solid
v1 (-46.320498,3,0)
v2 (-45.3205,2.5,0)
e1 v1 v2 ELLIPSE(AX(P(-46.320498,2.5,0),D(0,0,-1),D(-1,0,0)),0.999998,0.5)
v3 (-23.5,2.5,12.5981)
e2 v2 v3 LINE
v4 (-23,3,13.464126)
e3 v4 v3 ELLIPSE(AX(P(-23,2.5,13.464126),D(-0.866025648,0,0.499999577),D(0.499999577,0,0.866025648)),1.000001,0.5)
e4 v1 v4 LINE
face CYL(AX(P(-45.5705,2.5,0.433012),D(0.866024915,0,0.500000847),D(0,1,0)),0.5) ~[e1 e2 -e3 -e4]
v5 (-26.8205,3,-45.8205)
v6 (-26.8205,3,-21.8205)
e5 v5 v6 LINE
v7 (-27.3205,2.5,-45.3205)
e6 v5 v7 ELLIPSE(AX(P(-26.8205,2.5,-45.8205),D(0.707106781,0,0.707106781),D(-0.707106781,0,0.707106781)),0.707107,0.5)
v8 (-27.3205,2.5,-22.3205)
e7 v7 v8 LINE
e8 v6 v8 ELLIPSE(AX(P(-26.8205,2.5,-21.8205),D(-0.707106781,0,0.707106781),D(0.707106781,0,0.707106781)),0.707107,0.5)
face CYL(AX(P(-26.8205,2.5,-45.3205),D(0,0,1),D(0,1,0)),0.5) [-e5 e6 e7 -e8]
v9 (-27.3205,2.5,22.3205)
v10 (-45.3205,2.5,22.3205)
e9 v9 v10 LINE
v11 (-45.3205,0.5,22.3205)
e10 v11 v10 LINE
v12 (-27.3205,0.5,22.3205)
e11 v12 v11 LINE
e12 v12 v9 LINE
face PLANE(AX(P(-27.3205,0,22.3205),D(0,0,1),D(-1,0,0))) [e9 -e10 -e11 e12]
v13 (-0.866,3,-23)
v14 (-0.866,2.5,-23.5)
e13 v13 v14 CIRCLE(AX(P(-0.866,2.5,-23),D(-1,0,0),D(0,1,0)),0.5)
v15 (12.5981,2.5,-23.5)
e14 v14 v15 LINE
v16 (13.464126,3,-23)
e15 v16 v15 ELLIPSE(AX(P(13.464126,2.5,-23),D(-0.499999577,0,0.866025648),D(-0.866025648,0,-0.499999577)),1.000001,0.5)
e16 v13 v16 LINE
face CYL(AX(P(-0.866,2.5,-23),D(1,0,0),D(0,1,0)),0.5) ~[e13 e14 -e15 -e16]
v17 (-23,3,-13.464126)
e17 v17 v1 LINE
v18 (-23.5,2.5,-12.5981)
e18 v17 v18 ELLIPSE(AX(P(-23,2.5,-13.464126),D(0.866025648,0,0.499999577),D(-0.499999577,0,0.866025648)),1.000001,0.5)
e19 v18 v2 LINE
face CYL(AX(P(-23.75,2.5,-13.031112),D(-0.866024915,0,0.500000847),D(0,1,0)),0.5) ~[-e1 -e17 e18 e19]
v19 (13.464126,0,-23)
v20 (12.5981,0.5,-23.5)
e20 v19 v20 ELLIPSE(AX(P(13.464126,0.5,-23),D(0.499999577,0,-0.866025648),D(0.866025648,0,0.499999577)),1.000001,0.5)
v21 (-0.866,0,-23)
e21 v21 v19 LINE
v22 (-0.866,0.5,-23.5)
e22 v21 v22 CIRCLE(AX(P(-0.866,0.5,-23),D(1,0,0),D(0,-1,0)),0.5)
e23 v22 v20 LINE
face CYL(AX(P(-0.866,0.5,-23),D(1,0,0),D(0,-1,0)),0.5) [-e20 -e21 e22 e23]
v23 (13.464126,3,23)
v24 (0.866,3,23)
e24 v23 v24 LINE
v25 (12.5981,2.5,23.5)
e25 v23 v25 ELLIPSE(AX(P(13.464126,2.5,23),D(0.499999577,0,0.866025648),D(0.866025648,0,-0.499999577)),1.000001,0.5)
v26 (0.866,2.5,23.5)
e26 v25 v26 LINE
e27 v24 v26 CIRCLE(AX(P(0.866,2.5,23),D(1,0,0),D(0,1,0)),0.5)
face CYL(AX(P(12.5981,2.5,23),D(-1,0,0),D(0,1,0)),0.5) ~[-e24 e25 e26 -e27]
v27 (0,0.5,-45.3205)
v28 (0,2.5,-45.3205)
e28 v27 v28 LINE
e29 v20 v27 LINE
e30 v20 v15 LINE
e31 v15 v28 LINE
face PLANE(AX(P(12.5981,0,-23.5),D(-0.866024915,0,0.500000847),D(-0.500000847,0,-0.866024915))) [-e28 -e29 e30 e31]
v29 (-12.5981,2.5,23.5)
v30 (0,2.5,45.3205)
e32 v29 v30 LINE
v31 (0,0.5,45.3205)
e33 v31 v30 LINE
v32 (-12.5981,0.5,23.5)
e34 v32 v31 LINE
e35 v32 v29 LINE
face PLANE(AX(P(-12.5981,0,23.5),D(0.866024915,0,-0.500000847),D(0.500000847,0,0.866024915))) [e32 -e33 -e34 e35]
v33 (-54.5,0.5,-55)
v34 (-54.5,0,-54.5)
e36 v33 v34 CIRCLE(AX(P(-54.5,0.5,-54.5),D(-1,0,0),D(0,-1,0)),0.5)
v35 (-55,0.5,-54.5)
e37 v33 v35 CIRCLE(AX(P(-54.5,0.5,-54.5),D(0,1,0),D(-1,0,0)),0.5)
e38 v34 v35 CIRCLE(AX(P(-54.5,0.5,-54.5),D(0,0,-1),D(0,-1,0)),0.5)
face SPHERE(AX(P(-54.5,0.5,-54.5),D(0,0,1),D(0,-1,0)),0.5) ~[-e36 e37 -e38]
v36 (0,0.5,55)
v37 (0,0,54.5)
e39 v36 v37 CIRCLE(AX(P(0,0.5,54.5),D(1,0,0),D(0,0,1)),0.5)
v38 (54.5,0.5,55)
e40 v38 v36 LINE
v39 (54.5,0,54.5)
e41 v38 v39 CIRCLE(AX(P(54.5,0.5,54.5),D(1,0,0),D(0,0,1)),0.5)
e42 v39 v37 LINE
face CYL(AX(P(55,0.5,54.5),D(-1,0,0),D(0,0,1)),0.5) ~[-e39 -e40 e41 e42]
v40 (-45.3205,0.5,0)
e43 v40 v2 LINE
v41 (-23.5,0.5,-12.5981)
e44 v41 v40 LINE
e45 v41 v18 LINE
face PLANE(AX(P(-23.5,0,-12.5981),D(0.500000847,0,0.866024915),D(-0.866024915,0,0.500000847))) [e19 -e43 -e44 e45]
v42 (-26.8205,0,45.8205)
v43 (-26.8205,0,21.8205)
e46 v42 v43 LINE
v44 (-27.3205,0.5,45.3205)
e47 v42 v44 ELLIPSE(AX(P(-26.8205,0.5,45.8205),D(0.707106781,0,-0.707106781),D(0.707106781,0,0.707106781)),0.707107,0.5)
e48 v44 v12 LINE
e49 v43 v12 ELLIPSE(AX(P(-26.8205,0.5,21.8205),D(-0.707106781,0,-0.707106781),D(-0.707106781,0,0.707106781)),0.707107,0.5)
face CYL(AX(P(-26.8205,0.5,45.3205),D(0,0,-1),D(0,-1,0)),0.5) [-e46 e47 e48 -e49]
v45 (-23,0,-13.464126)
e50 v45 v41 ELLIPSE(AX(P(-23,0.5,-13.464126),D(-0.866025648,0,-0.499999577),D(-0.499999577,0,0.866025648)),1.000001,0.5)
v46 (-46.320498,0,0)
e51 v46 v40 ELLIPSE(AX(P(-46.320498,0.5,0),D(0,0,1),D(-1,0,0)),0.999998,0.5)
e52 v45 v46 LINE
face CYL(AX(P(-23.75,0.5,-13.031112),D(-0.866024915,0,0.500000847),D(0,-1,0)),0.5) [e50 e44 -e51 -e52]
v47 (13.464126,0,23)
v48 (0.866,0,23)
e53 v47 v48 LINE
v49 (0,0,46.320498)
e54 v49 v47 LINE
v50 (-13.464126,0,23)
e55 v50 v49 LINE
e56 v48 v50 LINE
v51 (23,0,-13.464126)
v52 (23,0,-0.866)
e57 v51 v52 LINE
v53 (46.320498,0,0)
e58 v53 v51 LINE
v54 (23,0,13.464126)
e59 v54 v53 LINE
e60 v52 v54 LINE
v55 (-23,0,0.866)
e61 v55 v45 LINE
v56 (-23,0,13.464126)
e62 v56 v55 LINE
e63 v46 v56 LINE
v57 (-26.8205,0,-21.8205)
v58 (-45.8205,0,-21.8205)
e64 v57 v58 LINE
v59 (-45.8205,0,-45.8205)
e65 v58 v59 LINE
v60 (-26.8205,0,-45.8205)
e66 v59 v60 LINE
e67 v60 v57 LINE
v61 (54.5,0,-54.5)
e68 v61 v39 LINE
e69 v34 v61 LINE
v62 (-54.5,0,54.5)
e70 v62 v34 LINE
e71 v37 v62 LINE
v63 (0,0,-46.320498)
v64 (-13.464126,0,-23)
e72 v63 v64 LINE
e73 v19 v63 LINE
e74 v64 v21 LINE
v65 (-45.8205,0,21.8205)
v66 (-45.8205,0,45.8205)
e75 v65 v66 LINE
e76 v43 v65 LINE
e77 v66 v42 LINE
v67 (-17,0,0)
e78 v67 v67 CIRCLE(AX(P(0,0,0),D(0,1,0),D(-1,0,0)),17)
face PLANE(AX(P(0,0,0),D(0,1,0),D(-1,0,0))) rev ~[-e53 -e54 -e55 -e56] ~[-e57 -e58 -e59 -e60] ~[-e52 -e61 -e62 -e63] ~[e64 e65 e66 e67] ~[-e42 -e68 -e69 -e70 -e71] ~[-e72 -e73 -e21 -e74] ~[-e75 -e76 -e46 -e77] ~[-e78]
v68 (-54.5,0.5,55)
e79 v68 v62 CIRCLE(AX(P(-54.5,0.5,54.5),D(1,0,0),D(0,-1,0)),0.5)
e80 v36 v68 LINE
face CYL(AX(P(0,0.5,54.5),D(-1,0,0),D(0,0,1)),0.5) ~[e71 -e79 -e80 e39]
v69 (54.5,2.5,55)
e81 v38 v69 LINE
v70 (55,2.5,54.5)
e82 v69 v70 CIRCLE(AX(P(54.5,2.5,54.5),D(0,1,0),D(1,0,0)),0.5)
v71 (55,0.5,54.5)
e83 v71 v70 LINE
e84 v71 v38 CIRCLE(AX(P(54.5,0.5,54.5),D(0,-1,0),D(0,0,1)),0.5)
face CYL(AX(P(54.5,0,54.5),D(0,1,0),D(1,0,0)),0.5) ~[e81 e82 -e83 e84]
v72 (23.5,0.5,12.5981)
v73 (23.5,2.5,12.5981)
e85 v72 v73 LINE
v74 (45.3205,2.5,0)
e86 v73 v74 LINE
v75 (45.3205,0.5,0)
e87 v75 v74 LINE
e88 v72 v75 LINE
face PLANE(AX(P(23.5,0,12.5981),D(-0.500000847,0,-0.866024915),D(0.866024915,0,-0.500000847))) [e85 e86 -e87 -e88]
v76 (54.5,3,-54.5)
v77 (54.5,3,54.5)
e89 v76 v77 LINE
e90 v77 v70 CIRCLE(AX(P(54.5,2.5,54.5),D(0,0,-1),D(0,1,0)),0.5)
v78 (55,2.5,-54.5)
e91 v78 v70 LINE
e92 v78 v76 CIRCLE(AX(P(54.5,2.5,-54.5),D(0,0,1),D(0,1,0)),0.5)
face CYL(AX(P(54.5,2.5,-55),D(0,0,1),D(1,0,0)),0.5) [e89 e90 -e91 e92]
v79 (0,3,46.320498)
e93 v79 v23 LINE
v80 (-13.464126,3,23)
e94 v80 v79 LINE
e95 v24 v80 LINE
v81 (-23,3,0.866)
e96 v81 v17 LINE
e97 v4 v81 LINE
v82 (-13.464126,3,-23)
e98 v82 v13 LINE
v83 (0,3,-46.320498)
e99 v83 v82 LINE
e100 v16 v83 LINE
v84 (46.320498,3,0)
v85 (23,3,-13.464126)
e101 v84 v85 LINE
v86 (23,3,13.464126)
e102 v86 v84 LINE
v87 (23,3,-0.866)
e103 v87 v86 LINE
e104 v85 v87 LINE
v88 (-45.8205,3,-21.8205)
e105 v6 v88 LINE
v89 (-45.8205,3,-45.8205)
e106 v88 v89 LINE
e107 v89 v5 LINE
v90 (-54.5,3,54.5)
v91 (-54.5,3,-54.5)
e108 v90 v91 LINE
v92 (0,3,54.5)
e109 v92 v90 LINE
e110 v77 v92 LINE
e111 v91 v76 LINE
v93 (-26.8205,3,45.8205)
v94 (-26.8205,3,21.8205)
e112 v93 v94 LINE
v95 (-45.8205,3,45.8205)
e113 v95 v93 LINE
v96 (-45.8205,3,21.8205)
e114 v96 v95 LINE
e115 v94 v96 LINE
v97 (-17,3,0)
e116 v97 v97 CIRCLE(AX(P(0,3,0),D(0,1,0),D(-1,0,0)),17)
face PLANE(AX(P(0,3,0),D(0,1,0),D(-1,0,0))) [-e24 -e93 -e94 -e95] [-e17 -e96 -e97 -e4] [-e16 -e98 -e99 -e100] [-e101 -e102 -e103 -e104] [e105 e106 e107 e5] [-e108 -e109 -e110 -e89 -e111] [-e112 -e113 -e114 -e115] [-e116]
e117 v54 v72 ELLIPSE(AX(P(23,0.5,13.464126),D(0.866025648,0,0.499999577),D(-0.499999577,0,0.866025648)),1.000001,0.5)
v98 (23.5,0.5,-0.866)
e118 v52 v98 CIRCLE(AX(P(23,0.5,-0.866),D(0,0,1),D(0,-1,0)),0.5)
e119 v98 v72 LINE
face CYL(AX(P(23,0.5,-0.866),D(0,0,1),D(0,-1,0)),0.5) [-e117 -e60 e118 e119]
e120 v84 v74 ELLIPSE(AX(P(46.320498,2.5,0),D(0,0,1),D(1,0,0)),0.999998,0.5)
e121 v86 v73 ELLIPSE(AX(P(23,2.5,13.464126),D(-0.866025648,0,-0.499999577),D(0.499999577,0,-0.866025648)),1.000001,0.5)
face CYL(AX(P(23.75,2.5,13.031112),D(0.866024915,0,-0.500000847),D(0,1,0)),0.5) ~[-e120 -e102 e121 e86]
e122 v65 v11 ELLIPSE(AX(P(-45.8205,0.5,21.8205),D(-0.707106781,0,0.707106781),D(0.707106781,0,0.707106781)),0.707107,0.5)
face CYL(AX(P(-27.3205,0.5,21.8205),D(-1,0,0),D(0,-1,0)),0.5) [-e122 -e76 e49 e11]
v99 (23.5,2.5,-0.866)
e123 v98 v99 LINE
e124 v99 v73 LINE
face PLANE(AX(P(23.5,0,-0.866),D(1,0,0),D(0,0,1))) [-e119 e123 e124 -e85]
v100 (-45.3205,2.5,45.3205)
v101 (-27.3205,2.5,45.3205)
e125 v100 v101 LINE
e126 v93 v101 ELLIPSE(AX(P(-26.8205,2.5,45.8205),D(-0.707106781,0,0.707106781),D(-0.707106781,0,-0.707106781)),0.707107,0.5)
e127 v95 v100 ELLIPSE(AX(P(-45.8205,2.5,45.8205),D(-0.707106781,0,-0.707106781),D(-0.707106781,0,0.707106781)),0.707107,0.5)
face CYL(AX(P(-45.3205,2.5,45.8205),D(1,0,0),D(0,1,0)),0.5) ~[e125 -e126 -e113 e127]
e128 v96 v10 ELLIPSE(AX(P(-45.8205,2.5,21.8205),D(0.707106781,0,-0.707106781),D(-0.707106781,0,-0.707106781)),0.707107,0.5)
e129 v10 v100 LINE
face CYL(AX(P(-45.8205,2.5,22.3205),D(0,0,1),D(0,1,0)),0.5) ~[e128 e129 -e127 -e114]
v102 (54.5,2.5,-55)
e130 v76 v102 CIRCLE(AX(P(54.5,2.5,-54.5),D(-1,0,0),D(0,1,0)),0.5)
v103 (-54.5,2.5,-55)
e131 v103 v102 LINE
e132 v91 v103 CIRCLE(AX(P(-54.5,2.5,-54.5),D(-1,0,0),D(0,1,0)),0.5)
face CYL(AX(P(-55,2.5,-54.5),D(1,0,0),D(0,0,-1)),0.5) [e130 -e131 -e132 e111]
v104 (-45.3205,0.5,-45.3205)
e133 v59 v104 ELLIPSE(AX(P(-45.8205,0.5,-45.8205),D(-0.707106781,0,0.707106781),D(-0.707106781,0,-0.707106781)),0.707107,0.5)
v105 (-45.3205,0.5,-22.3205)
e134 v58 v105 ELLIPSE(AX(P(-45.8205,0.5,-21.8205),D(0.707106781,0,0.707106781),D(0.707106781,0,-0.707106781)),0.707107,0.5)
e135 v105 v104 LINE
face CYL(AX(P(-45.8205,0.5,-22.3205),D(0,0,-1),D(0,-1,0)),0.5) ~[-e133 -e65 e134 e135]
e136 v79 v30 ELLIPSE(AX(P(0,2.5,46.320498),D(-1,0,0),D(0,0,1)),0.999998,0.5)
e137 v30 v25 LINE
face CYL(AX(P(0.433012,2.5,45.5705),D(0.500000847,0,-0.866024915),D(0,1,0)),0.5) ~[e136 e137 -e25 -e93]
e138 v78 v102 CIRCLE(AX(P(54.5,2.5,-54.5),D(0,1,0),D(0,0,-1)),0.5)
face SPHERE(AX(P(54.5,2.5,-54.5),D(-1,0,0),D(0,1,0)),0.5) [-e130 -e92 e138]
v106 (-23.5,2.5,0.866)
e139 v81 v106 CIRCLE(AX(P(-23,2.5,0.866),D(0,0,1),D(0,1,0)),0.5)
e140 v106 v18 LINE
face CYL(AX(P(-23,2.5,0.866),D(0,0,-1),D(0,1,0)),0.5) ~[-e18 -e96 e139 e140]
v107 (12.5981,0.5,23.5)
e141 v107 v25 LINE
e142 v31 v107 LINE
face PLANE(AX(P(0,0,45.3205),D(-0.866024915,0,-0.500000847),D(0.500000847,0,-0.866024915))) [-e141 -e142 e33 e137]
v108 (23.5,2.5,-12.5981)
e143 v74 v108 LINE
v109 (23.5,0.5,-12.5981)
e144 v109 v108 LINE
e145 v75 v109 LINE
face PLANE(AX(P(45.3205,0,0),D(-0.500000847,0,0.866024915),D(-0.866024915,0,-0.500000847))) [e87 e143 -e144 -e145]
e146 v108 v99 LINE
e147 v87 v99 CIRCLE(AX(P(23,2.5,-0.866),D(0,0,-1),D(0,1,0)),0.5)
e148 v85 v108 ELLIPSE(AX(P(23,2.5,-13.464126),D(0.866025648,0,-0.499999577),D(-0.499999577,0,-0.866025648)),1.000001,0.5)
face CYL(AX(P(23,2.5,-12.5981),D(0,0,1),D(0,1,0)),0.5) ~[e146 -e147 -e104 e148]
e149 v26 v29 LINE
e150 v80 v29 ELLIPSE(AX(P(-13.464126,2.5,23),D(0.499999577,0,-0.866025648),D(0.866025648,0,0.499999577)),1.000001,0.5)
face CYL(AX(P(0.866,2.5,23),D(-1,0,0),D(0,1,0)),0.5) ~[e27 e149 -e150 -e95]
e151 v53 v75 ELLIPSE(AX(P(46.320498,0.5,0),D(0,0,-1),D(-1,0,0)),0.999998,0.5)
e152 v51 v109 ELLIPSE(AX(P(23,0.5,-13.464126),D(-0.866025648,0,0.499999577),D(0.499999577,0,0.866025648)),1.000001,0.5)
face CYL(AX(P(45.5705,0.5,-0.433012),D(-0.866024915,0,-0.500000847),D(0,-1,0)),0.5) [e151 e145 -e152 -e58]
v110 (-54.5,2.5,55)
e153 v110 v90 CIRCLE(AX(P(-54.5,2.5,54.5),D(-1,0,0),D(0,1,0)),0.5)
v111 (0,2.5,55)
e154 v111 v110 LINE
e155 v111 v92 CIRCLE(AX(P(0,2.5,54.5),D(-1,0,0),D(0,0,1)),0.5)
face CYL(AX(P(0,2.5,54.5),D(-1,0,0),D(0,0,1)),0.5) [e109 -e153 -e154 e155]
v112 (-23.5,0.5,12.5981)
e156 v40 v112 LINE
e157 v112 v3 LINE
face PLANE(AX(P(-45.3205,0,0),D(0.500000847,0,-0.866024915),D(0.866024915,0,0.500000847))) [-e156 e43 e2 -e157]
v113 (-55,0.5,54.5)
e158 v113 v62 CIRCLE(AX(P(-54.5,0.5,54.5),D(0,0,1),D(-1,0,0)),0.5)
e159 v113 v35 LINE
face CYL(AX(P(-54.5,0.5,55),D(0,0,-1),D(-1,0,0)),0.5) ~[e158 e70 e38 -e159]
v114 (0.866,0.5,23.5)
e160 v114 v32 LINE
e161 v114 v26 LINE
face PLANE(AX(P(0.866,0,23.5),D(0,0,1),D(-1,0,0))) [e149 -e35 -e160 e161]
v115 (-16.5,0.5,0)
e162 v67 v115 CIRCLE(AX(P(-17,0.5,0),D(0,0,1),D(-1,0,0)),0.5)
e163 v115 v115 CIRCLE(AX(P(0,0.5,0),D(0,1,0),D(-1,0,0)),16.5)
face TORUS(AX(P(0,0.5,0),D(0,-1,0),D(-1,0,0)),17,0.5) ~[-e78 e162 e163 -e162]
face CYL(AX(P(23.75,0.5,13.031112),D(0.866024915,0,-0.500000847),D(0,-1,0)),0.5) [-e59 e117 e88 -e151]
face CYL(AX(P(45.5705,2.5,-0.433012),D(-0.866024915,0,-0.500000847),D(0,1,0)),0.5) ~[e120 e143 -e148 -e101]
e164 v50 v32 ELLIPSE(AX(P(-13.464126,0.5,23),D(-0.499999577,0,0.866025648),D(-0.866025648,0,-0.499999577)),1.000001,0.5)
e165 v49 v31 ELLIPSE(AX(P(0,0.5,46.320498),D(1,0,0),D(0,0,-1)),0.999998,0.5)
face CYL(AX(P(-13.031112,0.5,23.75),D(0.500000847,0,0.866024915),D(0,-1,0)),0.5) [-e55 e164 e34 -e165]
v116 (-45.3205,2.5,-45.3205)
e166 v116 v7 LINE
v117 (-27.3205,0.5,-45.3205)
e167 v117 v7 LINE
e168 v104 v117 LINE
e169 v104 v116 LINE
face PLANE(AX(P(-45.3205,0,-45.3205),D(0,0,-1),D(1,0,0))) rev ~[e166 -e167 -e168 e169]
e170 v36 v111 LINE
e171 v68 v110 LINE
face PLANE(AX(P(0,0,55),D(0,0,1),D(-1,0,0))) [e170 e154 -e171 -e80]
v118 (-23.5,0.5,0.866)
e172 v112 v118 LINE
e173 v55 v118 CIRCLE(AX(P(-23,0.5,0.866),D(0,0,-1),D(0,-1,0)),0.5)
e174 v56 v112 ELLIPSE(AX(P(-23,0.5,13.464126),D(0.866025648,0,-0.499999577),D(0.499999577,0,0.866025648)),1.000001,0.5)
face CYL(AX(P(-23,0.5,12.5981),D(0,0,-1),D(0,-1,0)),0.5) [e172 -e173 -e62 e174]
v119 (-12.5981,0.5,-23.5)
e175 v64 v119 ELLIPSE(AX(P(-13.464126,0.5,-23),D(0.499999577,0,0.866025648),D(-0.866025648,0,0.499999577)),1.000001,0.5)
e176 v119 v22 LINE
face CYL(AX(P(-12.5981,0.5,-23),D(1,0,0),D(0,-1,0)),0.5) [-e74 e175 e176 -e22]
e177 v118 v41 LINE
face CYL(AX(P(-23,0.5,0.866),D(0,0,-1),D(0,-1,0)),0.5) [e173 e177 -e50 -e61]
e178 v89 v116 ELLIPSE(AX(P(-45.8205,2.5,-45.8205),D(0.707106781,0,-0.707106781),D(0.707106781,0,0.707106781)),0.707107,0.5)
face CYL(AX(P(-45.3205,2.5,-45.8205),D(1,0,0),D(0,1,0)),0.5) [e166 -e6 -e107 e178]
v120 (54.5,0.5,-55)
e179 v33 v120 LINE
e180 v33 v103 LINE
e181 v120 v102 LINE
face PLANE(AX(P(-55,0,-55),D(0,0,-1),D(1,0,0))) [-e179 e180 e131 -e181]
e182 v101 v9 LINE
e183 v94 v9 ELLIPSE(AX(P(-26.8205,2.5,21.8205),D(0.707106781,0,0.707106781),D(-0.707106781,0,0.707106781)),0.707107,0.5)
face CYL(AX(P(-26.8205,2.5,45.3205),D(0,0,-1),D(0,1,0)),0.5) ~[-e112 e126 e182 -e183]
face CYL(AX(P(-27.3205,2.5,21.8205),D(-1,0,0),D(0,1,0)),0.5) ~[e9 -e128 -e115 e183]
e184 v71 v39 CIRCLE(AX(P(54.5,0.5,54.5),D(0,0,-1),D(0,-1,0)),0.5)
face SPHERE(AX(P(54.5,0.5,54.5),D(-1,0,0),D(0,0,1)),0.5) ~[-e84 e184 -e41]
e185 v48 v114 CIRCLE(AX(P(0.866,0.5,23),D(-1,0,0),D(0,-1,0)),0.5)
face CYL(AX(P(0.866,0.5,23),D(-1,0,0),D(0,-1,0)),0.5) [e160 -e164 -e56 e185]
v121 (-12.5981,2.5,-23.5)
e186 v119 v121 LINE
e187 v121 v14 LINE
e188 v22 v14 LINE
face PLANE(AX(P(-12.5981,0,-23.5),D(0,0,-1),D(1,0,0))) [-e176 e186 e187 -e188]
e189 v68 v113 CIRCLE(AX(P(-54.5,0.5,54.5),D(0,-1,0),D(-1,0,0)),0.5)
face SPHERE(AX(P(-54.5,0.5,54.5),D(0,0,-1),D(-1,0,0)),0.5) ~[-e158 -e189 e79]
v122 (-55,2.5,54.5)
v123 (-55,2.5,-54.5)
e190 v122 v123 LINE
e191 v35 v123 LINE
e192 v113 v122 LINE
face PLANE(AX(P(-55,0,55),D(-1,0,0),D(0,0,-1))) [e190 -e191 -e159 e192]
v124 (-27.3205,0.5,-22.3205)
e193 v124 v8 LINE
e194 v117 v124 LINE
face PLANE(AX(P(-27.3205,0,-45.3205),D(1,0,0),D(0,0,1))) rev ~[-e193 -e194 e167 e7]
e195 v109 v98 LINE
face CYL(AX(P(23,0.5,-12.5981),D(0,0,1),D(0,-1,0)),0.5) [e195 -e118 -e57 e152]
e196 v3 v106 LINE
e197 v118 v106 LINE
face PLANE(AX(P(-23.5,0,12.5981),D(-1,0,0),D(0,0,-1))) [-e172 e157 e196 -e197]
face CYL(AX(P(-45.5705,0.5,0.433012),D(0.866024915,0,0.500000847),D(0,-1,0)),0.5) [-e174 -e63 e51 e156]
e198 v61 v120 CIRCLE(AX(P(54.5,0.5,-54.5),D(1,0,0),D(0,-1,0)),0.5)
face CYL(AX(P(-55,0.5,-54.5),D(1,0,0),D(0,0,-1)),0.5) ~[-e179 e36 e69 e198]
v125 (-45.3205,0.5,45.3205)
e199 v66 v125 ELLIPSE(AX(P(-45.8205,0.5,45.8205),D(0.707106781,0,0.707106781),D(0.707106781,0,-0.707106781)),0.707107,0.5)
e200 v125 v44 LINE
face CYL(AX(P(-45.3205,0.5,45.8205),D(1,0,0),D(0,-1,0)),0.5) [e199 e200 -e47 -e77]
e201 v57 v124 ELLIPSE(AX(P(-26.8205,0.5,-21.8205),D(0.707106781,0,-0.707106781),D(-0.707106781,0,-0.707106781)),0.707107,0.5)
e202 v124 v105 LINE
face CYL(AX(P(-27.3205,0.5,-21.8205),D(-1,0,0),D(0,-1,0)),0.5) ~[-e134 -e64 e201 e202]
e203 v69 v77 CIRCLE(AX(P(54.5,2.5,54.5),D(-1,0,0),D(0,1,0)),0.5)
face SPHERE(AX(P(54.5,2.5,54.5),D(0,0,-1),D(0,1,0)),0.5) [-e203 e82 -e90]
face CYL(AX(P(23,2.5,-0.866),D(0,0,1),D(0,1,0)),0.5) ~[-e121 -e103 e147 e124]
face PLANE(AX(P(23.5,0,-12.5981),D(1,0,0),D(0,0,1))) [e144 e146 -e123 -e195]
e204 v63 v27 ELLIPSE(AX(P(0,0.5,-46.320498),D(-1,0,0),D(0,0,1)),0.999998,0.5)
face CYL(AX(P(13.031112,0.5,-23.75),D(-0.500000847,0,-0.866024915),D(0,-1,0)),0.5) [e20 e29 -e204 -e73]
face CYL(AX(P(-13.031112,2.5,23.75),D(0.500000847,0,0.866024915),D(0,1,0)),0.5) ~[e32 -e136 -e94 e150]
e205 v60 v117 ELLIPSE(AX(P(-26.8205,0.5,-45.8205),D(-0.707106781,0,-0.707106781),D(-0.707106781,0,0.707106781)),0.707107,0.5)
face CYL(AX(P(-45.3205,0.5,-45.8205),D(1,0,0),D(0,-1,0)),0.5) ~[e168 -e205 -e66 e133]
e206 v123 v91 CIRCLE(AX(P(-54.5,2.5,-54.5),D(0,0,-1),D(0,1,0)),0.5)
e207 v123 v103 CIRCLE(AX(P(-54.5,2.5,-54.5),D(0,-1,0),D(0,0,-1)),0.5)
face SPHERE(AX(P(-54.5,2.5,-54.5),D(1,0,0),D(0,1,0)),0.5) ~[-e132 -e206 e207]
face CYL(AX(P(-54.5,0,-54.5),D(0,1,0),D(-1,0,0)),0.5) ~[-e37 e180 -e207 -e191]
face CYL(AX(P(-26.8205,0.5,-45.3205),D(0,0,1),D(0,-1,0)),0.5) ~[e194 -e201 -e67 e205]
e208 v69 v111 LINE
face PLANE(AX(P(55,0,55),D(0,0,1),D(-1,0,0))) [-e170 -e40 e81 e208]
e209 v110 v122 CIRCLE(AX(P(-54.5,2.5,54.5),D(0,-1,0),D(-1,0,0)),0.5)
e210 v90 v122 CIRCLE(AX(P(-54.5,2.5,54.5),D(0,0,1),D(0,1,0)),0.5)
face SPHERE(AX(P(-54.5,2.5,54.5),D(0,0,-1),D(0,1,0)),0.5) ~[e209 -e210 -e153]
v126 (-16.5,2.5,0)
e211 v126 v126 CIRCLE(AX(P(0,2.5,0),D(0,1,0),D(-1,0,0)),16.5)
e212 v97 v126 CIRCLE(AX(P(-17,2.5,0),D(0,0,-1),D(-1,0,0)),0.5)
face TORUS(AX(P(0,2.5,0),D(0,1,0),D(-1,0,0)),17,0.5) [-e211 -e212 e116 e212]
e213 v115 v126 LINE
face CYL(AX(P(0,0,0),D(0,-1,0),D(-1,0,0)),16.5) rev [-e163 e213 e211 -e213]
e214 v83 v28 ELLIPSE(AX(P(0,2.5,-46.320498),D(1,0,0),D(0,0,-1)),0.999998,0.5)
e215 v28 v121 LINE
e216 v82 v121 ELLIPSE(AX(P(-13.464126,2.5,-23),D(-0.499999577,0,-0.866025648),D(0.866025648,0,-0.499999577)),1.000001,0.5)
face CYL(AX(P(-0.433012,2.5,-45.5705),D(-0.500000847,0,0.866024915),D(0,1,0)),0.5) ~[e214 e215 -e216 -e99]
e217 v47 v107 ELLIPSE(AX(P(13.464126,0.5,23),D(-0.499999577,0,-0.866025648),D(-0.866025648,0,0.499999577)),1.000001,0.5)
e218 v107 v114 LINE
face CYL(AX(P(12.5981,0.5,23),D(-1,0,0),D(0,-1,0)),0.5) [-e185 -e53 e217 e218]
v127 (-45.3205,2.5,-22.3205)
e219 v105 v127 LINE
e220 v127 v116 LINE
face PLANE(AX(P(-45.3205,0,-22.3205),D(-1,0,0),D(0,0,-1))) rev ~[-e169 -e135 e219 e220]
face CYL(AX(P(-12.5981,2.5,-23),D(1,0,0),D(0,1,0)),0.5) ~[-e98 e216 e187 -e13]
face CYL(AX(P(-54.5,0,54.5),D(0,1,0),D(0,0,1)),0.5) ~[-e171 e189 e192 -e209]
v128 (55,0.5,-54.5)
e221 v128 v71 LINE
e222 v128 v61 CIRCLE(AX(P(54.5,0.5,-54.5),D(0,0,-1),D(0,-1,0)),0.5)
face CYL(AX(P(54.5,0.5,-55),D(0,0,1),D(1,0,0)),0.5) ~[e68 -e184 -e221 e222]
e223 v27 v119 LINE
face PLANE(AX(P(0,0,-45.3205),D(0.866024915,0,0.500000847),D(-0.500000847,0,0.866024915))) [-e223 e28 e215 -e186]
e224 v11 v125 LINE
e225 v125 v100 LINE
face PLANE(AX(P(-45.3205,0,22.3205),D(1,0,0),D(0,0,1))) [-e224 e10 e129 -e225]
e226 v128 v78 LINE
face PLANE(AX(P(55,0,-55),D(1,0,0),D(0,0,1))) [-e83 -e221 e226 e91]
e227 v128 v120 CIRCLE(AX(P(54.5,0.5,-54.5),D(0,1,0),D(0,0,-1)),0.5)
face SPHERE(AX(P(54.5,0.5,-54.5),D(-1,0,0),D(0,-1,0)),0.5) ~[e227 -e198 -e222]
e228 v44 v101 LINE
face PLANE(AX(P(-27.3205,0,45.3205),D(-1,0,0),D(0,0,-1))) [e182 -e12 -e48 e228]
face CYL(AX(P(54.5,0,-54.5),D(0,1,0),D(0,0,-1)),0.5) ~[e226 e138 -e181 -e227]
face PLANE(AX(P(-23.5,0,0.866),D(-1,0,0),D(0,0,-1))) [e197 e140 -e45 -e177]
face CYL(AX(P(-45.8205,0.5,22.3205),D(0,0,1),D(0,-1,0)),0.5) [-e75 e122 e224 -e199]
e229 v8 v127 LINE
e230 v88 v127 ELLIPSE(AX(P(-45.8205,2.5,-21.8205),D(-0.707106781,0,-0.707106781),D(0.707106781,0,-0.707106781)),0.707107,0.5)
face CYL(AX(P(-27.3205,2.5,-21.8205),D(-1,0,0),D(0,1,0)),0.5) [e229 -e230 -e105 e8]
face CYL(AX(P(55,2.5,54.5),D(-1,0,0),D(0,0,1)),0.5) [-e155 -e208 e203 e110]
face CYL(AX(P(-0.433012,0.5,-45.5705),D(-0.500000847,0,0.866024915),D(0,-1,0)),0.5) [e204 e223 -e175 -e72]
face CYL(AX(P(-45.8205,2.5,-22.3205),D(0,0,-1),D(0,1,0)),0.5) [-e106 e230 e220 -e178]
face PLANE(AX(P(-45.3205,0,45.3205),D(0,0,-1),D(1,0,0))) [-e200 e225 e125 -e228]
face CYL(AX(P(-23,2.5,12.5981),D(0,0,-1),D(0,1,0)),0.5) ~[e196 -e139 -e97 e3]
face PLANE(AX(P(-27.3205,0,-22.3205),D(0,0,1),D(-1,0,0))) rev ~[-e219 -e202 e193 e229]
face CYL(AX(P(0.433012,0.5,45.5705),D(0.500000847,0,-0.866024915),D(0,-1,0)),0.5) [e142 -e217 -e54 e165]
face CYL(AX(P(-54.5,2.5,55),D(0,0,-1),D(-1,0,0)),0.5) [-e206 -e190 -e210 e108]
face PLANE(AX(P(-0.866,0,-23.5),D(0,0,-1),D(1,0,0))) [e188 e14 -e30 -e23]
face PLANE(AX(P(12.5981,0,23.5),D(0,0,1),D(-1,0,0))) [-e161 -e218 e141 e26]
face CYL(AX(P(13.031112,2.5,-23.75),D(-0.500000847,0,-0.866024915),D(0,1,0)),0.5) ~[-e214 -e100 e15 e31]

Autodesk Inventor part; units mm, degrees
ref_plane "YZ Plane" through (0, 0, 0) normal (1, 0, 0) x (0, 1, 0)
ref_plane "XZ Plane" through (0, 0, 0) normal (0, 1, 0) x (-1, 0, 0)
ref_plane "XY Plane" through (0, 0, 0) normal (0, 0, 1) x (1, 0, 0)
sketch "Sketch1" plane through (0, 0, 0) normal (0, 1, 0) x (-1, 0, 0)
  circle A0 centre (0, 0) radius 15
  line L0 (0, -25) -> (10, -25)
  line L1 (0, -25) -> (-10, -25)
  line L2 (-10, -25) -> (0, -42.3205)
  line L3 (0, -42.3205) -> (10, -25)
  circle A1 centre (0, 0) radius 16.5
  line L4 (12.5981, -23.5) -> (0.866, -23.5)
  line L5 (0.866, -23.5) -> (-12.5981, -23.5)
  line L6 (-12.5981, -23.5) -> (0, -45.3205)
  line L7 (0, -45.3205) -> (12.5981, -23.5)
  line L8 (25, 0) -> (25, 10)
  line L9 (25, 0) -> (25, -10)
  line L10 (25, -10) -> (42.3205, 0)
  line L11 (42.3205, 0) -> (25, 10)
  line L12 (23.5, 12.5981) -> (23.5, 0.866)
  line L13 (23.5, 0.866) -> (23.5, -12.5981)
  line L14 (23.5, -12.5981) -> (45.3205, 0)
  line L15 (45.3205, 0) -> (23.5, 12.5981)
  line L16 (0, 25) -> (-10, 25)
  line L17 (0, 25) -> (10, 25)
  line L18 (10, 25) -> (0, 42.3205)
  line L19 (0, 42.3205) -> (-10, 25)
  line L20 (-12.5981, 23.5) -> (-0.866, 23.5)
  line L21 (-0.866, 23.5) -> (12.5981, 23.5)
  line L22 (12.5981, 23.5) -> (0, 45.3205)
  line L23 (0, 45.3205) -> (-12.5981, 23.5)
  line L24 (-25, 0) -> (-25, -10)
  line L25 (-25, 0) -> (-25, 10)
  line L26 (-25, 10) -> (-42.3205, 0)
  line L27 (-42.3205, 0) -> (-25, -10)
  line L28 (-23.5, -12.5981) -> (-23.5, -0.866)
  line L29 (-23.5, -0.866) -> (-23.5, 12.5981)
  line L30 (-23.5, 12.5981) -> (-45.3205, 0)
  line L31 (-45.3205, 0) -> (-23.5, -12.5981)
  line L32 (45.3205, 45.3205) -> (27.3205, 45.3205)
  line L33 (27.3205, 45.3205) -> (27.3205, 22.3205)
  line L34 (27.3205, 22.3205) -> (45.3205, 22.3205)
  line L35 (45.3205, 22.3205) -> (45.3205, 45.3205)
  line L36 (28.8205, 23.8205) -> (28.8205, 43.8205)
  line L37 (28.8205, 43.8205) -> (43.8205, 43.8205)
  line L38 (43.8205, 43.8205) -> (43.8205, 23.8205)
  line L39 (43.8205, 23.8205) -> (28.8205, 23.8205)
  line L40 (45.3205, -45.3205) -> (27.3205, -45.3205)
  line L41 (27.3205, -45.3205) -> (27.3205, -22.3205)
  line L42 (27.3205, -22.3205) -> (45.3205, -22.3205)
  line L43 (45.3205, -22.3205) -> (45.3205, -45.3205)
  line L44 (28.8205, -23.8205) -> (28.8205, -43.8205)
  line L45 (28.8205, -43.8205) -> (43.8205, -43.8205)
  line L46 (43.8205, -43.8205) -> (43.8205, -23.8205)
  line L47 (43.8205, -23.8205) -> (28.8205, -23.8205)
  line L48 (0, 55) -> (55, 55)
  line L49 (55, 55) -> (55, -55)
  line L50 (55, -55) -> (-55, -55)
  line L51 (-55, -55) -> (-55, 55)
  line L52 (-55, 55) -> (0, 55)
  dimension "d1" = 10
  dimension "d2" = 10
  dimension "d3" = 20
  dimension "d4" = 60
  dimension "d6" = 1.5
  dimension "d7" = 25
  dimension "d10" = 360
  dimension "d12" = 18
  dimension "d13" = 23
  dimension "d14" = 1.5
  dimension "d16" = 55
  dimension "d17" = 110
  dimension "d18" = 110
  dimension "d19" = 110
extrude "Extrusion1" add sketch "Sketch1" along normal blind 3 contours L48 L49 L50 L51 L52
fillet "Fillet1" radius 0.5 12 edges at (0, 3, -55) (55, 3, 0) (-55, 3, 0) (27.5, 3, 55) (-55, 0, 0) (0, 0, -55) (-55, 1.5, -55) (-55, 1.5, 55) (-27.5, 0, 55) (55, 1.5, 55) (55, 0, 0) (55, 1.5, -55)
fillet "Fillet2" radius 0.5 42 edges at (16.5, 3, 0) (16.5, 0, 0) (6.299, 3, -34.4103) (5.866, 3, -23.5) (-6.299, 3, -34.4103) (-27.3205, 3, -33.8205) (-36.3205, 3, -45.3205) (-45.3205, 3, -33.8205) (-36.3205, 3, -22.3205) (-34.4103, 3, -6.299) (-34.4103, 3, 6.299) (-23.5, 3, -5.866) (-36.3205, 3, 22.3205) (-27.3205, 3, 33.8205) (-45.3205, 3, 33.8205) (-36.3205, 3, 45.3205) (-6.299, 3, 34.4103) (6.299, 3, 34.4103) (-5.866, 3, 23.5) (34.4103, 3, 6.299) (34.4103, 3, -6.299) (23.5, 3, 5.866) (-36.3205, 0, 45.3205) (-45.3205, 0, 33.8205) (-36.3205, 0, 22.3205) (-27.3205, 0, 33.8205) (-5.866, 0, 23.5) (6.299, 0, 34.4103) (-6.299, 0, 34.4103) (-34.4103, 0, -6.299) (-34.4103, 0, 6.299) (-23.5, 0, -5.866) (-45.3205, 0, -33.8205) (-36.3205, 0, -22.3205) (-27.3205, 0, -33.8205) (-36.3205, 0, -45.3205) (-6.299, 0, -34.4103) (5.866, 0, -23.5) (6.299, 0, -34.4103) (23.5, 0, 5.866) (34.4103, 0, -6.299) (34.4103, 0, 6.299)
properties part number "Mat_Tren_Button" material "Rubber"
